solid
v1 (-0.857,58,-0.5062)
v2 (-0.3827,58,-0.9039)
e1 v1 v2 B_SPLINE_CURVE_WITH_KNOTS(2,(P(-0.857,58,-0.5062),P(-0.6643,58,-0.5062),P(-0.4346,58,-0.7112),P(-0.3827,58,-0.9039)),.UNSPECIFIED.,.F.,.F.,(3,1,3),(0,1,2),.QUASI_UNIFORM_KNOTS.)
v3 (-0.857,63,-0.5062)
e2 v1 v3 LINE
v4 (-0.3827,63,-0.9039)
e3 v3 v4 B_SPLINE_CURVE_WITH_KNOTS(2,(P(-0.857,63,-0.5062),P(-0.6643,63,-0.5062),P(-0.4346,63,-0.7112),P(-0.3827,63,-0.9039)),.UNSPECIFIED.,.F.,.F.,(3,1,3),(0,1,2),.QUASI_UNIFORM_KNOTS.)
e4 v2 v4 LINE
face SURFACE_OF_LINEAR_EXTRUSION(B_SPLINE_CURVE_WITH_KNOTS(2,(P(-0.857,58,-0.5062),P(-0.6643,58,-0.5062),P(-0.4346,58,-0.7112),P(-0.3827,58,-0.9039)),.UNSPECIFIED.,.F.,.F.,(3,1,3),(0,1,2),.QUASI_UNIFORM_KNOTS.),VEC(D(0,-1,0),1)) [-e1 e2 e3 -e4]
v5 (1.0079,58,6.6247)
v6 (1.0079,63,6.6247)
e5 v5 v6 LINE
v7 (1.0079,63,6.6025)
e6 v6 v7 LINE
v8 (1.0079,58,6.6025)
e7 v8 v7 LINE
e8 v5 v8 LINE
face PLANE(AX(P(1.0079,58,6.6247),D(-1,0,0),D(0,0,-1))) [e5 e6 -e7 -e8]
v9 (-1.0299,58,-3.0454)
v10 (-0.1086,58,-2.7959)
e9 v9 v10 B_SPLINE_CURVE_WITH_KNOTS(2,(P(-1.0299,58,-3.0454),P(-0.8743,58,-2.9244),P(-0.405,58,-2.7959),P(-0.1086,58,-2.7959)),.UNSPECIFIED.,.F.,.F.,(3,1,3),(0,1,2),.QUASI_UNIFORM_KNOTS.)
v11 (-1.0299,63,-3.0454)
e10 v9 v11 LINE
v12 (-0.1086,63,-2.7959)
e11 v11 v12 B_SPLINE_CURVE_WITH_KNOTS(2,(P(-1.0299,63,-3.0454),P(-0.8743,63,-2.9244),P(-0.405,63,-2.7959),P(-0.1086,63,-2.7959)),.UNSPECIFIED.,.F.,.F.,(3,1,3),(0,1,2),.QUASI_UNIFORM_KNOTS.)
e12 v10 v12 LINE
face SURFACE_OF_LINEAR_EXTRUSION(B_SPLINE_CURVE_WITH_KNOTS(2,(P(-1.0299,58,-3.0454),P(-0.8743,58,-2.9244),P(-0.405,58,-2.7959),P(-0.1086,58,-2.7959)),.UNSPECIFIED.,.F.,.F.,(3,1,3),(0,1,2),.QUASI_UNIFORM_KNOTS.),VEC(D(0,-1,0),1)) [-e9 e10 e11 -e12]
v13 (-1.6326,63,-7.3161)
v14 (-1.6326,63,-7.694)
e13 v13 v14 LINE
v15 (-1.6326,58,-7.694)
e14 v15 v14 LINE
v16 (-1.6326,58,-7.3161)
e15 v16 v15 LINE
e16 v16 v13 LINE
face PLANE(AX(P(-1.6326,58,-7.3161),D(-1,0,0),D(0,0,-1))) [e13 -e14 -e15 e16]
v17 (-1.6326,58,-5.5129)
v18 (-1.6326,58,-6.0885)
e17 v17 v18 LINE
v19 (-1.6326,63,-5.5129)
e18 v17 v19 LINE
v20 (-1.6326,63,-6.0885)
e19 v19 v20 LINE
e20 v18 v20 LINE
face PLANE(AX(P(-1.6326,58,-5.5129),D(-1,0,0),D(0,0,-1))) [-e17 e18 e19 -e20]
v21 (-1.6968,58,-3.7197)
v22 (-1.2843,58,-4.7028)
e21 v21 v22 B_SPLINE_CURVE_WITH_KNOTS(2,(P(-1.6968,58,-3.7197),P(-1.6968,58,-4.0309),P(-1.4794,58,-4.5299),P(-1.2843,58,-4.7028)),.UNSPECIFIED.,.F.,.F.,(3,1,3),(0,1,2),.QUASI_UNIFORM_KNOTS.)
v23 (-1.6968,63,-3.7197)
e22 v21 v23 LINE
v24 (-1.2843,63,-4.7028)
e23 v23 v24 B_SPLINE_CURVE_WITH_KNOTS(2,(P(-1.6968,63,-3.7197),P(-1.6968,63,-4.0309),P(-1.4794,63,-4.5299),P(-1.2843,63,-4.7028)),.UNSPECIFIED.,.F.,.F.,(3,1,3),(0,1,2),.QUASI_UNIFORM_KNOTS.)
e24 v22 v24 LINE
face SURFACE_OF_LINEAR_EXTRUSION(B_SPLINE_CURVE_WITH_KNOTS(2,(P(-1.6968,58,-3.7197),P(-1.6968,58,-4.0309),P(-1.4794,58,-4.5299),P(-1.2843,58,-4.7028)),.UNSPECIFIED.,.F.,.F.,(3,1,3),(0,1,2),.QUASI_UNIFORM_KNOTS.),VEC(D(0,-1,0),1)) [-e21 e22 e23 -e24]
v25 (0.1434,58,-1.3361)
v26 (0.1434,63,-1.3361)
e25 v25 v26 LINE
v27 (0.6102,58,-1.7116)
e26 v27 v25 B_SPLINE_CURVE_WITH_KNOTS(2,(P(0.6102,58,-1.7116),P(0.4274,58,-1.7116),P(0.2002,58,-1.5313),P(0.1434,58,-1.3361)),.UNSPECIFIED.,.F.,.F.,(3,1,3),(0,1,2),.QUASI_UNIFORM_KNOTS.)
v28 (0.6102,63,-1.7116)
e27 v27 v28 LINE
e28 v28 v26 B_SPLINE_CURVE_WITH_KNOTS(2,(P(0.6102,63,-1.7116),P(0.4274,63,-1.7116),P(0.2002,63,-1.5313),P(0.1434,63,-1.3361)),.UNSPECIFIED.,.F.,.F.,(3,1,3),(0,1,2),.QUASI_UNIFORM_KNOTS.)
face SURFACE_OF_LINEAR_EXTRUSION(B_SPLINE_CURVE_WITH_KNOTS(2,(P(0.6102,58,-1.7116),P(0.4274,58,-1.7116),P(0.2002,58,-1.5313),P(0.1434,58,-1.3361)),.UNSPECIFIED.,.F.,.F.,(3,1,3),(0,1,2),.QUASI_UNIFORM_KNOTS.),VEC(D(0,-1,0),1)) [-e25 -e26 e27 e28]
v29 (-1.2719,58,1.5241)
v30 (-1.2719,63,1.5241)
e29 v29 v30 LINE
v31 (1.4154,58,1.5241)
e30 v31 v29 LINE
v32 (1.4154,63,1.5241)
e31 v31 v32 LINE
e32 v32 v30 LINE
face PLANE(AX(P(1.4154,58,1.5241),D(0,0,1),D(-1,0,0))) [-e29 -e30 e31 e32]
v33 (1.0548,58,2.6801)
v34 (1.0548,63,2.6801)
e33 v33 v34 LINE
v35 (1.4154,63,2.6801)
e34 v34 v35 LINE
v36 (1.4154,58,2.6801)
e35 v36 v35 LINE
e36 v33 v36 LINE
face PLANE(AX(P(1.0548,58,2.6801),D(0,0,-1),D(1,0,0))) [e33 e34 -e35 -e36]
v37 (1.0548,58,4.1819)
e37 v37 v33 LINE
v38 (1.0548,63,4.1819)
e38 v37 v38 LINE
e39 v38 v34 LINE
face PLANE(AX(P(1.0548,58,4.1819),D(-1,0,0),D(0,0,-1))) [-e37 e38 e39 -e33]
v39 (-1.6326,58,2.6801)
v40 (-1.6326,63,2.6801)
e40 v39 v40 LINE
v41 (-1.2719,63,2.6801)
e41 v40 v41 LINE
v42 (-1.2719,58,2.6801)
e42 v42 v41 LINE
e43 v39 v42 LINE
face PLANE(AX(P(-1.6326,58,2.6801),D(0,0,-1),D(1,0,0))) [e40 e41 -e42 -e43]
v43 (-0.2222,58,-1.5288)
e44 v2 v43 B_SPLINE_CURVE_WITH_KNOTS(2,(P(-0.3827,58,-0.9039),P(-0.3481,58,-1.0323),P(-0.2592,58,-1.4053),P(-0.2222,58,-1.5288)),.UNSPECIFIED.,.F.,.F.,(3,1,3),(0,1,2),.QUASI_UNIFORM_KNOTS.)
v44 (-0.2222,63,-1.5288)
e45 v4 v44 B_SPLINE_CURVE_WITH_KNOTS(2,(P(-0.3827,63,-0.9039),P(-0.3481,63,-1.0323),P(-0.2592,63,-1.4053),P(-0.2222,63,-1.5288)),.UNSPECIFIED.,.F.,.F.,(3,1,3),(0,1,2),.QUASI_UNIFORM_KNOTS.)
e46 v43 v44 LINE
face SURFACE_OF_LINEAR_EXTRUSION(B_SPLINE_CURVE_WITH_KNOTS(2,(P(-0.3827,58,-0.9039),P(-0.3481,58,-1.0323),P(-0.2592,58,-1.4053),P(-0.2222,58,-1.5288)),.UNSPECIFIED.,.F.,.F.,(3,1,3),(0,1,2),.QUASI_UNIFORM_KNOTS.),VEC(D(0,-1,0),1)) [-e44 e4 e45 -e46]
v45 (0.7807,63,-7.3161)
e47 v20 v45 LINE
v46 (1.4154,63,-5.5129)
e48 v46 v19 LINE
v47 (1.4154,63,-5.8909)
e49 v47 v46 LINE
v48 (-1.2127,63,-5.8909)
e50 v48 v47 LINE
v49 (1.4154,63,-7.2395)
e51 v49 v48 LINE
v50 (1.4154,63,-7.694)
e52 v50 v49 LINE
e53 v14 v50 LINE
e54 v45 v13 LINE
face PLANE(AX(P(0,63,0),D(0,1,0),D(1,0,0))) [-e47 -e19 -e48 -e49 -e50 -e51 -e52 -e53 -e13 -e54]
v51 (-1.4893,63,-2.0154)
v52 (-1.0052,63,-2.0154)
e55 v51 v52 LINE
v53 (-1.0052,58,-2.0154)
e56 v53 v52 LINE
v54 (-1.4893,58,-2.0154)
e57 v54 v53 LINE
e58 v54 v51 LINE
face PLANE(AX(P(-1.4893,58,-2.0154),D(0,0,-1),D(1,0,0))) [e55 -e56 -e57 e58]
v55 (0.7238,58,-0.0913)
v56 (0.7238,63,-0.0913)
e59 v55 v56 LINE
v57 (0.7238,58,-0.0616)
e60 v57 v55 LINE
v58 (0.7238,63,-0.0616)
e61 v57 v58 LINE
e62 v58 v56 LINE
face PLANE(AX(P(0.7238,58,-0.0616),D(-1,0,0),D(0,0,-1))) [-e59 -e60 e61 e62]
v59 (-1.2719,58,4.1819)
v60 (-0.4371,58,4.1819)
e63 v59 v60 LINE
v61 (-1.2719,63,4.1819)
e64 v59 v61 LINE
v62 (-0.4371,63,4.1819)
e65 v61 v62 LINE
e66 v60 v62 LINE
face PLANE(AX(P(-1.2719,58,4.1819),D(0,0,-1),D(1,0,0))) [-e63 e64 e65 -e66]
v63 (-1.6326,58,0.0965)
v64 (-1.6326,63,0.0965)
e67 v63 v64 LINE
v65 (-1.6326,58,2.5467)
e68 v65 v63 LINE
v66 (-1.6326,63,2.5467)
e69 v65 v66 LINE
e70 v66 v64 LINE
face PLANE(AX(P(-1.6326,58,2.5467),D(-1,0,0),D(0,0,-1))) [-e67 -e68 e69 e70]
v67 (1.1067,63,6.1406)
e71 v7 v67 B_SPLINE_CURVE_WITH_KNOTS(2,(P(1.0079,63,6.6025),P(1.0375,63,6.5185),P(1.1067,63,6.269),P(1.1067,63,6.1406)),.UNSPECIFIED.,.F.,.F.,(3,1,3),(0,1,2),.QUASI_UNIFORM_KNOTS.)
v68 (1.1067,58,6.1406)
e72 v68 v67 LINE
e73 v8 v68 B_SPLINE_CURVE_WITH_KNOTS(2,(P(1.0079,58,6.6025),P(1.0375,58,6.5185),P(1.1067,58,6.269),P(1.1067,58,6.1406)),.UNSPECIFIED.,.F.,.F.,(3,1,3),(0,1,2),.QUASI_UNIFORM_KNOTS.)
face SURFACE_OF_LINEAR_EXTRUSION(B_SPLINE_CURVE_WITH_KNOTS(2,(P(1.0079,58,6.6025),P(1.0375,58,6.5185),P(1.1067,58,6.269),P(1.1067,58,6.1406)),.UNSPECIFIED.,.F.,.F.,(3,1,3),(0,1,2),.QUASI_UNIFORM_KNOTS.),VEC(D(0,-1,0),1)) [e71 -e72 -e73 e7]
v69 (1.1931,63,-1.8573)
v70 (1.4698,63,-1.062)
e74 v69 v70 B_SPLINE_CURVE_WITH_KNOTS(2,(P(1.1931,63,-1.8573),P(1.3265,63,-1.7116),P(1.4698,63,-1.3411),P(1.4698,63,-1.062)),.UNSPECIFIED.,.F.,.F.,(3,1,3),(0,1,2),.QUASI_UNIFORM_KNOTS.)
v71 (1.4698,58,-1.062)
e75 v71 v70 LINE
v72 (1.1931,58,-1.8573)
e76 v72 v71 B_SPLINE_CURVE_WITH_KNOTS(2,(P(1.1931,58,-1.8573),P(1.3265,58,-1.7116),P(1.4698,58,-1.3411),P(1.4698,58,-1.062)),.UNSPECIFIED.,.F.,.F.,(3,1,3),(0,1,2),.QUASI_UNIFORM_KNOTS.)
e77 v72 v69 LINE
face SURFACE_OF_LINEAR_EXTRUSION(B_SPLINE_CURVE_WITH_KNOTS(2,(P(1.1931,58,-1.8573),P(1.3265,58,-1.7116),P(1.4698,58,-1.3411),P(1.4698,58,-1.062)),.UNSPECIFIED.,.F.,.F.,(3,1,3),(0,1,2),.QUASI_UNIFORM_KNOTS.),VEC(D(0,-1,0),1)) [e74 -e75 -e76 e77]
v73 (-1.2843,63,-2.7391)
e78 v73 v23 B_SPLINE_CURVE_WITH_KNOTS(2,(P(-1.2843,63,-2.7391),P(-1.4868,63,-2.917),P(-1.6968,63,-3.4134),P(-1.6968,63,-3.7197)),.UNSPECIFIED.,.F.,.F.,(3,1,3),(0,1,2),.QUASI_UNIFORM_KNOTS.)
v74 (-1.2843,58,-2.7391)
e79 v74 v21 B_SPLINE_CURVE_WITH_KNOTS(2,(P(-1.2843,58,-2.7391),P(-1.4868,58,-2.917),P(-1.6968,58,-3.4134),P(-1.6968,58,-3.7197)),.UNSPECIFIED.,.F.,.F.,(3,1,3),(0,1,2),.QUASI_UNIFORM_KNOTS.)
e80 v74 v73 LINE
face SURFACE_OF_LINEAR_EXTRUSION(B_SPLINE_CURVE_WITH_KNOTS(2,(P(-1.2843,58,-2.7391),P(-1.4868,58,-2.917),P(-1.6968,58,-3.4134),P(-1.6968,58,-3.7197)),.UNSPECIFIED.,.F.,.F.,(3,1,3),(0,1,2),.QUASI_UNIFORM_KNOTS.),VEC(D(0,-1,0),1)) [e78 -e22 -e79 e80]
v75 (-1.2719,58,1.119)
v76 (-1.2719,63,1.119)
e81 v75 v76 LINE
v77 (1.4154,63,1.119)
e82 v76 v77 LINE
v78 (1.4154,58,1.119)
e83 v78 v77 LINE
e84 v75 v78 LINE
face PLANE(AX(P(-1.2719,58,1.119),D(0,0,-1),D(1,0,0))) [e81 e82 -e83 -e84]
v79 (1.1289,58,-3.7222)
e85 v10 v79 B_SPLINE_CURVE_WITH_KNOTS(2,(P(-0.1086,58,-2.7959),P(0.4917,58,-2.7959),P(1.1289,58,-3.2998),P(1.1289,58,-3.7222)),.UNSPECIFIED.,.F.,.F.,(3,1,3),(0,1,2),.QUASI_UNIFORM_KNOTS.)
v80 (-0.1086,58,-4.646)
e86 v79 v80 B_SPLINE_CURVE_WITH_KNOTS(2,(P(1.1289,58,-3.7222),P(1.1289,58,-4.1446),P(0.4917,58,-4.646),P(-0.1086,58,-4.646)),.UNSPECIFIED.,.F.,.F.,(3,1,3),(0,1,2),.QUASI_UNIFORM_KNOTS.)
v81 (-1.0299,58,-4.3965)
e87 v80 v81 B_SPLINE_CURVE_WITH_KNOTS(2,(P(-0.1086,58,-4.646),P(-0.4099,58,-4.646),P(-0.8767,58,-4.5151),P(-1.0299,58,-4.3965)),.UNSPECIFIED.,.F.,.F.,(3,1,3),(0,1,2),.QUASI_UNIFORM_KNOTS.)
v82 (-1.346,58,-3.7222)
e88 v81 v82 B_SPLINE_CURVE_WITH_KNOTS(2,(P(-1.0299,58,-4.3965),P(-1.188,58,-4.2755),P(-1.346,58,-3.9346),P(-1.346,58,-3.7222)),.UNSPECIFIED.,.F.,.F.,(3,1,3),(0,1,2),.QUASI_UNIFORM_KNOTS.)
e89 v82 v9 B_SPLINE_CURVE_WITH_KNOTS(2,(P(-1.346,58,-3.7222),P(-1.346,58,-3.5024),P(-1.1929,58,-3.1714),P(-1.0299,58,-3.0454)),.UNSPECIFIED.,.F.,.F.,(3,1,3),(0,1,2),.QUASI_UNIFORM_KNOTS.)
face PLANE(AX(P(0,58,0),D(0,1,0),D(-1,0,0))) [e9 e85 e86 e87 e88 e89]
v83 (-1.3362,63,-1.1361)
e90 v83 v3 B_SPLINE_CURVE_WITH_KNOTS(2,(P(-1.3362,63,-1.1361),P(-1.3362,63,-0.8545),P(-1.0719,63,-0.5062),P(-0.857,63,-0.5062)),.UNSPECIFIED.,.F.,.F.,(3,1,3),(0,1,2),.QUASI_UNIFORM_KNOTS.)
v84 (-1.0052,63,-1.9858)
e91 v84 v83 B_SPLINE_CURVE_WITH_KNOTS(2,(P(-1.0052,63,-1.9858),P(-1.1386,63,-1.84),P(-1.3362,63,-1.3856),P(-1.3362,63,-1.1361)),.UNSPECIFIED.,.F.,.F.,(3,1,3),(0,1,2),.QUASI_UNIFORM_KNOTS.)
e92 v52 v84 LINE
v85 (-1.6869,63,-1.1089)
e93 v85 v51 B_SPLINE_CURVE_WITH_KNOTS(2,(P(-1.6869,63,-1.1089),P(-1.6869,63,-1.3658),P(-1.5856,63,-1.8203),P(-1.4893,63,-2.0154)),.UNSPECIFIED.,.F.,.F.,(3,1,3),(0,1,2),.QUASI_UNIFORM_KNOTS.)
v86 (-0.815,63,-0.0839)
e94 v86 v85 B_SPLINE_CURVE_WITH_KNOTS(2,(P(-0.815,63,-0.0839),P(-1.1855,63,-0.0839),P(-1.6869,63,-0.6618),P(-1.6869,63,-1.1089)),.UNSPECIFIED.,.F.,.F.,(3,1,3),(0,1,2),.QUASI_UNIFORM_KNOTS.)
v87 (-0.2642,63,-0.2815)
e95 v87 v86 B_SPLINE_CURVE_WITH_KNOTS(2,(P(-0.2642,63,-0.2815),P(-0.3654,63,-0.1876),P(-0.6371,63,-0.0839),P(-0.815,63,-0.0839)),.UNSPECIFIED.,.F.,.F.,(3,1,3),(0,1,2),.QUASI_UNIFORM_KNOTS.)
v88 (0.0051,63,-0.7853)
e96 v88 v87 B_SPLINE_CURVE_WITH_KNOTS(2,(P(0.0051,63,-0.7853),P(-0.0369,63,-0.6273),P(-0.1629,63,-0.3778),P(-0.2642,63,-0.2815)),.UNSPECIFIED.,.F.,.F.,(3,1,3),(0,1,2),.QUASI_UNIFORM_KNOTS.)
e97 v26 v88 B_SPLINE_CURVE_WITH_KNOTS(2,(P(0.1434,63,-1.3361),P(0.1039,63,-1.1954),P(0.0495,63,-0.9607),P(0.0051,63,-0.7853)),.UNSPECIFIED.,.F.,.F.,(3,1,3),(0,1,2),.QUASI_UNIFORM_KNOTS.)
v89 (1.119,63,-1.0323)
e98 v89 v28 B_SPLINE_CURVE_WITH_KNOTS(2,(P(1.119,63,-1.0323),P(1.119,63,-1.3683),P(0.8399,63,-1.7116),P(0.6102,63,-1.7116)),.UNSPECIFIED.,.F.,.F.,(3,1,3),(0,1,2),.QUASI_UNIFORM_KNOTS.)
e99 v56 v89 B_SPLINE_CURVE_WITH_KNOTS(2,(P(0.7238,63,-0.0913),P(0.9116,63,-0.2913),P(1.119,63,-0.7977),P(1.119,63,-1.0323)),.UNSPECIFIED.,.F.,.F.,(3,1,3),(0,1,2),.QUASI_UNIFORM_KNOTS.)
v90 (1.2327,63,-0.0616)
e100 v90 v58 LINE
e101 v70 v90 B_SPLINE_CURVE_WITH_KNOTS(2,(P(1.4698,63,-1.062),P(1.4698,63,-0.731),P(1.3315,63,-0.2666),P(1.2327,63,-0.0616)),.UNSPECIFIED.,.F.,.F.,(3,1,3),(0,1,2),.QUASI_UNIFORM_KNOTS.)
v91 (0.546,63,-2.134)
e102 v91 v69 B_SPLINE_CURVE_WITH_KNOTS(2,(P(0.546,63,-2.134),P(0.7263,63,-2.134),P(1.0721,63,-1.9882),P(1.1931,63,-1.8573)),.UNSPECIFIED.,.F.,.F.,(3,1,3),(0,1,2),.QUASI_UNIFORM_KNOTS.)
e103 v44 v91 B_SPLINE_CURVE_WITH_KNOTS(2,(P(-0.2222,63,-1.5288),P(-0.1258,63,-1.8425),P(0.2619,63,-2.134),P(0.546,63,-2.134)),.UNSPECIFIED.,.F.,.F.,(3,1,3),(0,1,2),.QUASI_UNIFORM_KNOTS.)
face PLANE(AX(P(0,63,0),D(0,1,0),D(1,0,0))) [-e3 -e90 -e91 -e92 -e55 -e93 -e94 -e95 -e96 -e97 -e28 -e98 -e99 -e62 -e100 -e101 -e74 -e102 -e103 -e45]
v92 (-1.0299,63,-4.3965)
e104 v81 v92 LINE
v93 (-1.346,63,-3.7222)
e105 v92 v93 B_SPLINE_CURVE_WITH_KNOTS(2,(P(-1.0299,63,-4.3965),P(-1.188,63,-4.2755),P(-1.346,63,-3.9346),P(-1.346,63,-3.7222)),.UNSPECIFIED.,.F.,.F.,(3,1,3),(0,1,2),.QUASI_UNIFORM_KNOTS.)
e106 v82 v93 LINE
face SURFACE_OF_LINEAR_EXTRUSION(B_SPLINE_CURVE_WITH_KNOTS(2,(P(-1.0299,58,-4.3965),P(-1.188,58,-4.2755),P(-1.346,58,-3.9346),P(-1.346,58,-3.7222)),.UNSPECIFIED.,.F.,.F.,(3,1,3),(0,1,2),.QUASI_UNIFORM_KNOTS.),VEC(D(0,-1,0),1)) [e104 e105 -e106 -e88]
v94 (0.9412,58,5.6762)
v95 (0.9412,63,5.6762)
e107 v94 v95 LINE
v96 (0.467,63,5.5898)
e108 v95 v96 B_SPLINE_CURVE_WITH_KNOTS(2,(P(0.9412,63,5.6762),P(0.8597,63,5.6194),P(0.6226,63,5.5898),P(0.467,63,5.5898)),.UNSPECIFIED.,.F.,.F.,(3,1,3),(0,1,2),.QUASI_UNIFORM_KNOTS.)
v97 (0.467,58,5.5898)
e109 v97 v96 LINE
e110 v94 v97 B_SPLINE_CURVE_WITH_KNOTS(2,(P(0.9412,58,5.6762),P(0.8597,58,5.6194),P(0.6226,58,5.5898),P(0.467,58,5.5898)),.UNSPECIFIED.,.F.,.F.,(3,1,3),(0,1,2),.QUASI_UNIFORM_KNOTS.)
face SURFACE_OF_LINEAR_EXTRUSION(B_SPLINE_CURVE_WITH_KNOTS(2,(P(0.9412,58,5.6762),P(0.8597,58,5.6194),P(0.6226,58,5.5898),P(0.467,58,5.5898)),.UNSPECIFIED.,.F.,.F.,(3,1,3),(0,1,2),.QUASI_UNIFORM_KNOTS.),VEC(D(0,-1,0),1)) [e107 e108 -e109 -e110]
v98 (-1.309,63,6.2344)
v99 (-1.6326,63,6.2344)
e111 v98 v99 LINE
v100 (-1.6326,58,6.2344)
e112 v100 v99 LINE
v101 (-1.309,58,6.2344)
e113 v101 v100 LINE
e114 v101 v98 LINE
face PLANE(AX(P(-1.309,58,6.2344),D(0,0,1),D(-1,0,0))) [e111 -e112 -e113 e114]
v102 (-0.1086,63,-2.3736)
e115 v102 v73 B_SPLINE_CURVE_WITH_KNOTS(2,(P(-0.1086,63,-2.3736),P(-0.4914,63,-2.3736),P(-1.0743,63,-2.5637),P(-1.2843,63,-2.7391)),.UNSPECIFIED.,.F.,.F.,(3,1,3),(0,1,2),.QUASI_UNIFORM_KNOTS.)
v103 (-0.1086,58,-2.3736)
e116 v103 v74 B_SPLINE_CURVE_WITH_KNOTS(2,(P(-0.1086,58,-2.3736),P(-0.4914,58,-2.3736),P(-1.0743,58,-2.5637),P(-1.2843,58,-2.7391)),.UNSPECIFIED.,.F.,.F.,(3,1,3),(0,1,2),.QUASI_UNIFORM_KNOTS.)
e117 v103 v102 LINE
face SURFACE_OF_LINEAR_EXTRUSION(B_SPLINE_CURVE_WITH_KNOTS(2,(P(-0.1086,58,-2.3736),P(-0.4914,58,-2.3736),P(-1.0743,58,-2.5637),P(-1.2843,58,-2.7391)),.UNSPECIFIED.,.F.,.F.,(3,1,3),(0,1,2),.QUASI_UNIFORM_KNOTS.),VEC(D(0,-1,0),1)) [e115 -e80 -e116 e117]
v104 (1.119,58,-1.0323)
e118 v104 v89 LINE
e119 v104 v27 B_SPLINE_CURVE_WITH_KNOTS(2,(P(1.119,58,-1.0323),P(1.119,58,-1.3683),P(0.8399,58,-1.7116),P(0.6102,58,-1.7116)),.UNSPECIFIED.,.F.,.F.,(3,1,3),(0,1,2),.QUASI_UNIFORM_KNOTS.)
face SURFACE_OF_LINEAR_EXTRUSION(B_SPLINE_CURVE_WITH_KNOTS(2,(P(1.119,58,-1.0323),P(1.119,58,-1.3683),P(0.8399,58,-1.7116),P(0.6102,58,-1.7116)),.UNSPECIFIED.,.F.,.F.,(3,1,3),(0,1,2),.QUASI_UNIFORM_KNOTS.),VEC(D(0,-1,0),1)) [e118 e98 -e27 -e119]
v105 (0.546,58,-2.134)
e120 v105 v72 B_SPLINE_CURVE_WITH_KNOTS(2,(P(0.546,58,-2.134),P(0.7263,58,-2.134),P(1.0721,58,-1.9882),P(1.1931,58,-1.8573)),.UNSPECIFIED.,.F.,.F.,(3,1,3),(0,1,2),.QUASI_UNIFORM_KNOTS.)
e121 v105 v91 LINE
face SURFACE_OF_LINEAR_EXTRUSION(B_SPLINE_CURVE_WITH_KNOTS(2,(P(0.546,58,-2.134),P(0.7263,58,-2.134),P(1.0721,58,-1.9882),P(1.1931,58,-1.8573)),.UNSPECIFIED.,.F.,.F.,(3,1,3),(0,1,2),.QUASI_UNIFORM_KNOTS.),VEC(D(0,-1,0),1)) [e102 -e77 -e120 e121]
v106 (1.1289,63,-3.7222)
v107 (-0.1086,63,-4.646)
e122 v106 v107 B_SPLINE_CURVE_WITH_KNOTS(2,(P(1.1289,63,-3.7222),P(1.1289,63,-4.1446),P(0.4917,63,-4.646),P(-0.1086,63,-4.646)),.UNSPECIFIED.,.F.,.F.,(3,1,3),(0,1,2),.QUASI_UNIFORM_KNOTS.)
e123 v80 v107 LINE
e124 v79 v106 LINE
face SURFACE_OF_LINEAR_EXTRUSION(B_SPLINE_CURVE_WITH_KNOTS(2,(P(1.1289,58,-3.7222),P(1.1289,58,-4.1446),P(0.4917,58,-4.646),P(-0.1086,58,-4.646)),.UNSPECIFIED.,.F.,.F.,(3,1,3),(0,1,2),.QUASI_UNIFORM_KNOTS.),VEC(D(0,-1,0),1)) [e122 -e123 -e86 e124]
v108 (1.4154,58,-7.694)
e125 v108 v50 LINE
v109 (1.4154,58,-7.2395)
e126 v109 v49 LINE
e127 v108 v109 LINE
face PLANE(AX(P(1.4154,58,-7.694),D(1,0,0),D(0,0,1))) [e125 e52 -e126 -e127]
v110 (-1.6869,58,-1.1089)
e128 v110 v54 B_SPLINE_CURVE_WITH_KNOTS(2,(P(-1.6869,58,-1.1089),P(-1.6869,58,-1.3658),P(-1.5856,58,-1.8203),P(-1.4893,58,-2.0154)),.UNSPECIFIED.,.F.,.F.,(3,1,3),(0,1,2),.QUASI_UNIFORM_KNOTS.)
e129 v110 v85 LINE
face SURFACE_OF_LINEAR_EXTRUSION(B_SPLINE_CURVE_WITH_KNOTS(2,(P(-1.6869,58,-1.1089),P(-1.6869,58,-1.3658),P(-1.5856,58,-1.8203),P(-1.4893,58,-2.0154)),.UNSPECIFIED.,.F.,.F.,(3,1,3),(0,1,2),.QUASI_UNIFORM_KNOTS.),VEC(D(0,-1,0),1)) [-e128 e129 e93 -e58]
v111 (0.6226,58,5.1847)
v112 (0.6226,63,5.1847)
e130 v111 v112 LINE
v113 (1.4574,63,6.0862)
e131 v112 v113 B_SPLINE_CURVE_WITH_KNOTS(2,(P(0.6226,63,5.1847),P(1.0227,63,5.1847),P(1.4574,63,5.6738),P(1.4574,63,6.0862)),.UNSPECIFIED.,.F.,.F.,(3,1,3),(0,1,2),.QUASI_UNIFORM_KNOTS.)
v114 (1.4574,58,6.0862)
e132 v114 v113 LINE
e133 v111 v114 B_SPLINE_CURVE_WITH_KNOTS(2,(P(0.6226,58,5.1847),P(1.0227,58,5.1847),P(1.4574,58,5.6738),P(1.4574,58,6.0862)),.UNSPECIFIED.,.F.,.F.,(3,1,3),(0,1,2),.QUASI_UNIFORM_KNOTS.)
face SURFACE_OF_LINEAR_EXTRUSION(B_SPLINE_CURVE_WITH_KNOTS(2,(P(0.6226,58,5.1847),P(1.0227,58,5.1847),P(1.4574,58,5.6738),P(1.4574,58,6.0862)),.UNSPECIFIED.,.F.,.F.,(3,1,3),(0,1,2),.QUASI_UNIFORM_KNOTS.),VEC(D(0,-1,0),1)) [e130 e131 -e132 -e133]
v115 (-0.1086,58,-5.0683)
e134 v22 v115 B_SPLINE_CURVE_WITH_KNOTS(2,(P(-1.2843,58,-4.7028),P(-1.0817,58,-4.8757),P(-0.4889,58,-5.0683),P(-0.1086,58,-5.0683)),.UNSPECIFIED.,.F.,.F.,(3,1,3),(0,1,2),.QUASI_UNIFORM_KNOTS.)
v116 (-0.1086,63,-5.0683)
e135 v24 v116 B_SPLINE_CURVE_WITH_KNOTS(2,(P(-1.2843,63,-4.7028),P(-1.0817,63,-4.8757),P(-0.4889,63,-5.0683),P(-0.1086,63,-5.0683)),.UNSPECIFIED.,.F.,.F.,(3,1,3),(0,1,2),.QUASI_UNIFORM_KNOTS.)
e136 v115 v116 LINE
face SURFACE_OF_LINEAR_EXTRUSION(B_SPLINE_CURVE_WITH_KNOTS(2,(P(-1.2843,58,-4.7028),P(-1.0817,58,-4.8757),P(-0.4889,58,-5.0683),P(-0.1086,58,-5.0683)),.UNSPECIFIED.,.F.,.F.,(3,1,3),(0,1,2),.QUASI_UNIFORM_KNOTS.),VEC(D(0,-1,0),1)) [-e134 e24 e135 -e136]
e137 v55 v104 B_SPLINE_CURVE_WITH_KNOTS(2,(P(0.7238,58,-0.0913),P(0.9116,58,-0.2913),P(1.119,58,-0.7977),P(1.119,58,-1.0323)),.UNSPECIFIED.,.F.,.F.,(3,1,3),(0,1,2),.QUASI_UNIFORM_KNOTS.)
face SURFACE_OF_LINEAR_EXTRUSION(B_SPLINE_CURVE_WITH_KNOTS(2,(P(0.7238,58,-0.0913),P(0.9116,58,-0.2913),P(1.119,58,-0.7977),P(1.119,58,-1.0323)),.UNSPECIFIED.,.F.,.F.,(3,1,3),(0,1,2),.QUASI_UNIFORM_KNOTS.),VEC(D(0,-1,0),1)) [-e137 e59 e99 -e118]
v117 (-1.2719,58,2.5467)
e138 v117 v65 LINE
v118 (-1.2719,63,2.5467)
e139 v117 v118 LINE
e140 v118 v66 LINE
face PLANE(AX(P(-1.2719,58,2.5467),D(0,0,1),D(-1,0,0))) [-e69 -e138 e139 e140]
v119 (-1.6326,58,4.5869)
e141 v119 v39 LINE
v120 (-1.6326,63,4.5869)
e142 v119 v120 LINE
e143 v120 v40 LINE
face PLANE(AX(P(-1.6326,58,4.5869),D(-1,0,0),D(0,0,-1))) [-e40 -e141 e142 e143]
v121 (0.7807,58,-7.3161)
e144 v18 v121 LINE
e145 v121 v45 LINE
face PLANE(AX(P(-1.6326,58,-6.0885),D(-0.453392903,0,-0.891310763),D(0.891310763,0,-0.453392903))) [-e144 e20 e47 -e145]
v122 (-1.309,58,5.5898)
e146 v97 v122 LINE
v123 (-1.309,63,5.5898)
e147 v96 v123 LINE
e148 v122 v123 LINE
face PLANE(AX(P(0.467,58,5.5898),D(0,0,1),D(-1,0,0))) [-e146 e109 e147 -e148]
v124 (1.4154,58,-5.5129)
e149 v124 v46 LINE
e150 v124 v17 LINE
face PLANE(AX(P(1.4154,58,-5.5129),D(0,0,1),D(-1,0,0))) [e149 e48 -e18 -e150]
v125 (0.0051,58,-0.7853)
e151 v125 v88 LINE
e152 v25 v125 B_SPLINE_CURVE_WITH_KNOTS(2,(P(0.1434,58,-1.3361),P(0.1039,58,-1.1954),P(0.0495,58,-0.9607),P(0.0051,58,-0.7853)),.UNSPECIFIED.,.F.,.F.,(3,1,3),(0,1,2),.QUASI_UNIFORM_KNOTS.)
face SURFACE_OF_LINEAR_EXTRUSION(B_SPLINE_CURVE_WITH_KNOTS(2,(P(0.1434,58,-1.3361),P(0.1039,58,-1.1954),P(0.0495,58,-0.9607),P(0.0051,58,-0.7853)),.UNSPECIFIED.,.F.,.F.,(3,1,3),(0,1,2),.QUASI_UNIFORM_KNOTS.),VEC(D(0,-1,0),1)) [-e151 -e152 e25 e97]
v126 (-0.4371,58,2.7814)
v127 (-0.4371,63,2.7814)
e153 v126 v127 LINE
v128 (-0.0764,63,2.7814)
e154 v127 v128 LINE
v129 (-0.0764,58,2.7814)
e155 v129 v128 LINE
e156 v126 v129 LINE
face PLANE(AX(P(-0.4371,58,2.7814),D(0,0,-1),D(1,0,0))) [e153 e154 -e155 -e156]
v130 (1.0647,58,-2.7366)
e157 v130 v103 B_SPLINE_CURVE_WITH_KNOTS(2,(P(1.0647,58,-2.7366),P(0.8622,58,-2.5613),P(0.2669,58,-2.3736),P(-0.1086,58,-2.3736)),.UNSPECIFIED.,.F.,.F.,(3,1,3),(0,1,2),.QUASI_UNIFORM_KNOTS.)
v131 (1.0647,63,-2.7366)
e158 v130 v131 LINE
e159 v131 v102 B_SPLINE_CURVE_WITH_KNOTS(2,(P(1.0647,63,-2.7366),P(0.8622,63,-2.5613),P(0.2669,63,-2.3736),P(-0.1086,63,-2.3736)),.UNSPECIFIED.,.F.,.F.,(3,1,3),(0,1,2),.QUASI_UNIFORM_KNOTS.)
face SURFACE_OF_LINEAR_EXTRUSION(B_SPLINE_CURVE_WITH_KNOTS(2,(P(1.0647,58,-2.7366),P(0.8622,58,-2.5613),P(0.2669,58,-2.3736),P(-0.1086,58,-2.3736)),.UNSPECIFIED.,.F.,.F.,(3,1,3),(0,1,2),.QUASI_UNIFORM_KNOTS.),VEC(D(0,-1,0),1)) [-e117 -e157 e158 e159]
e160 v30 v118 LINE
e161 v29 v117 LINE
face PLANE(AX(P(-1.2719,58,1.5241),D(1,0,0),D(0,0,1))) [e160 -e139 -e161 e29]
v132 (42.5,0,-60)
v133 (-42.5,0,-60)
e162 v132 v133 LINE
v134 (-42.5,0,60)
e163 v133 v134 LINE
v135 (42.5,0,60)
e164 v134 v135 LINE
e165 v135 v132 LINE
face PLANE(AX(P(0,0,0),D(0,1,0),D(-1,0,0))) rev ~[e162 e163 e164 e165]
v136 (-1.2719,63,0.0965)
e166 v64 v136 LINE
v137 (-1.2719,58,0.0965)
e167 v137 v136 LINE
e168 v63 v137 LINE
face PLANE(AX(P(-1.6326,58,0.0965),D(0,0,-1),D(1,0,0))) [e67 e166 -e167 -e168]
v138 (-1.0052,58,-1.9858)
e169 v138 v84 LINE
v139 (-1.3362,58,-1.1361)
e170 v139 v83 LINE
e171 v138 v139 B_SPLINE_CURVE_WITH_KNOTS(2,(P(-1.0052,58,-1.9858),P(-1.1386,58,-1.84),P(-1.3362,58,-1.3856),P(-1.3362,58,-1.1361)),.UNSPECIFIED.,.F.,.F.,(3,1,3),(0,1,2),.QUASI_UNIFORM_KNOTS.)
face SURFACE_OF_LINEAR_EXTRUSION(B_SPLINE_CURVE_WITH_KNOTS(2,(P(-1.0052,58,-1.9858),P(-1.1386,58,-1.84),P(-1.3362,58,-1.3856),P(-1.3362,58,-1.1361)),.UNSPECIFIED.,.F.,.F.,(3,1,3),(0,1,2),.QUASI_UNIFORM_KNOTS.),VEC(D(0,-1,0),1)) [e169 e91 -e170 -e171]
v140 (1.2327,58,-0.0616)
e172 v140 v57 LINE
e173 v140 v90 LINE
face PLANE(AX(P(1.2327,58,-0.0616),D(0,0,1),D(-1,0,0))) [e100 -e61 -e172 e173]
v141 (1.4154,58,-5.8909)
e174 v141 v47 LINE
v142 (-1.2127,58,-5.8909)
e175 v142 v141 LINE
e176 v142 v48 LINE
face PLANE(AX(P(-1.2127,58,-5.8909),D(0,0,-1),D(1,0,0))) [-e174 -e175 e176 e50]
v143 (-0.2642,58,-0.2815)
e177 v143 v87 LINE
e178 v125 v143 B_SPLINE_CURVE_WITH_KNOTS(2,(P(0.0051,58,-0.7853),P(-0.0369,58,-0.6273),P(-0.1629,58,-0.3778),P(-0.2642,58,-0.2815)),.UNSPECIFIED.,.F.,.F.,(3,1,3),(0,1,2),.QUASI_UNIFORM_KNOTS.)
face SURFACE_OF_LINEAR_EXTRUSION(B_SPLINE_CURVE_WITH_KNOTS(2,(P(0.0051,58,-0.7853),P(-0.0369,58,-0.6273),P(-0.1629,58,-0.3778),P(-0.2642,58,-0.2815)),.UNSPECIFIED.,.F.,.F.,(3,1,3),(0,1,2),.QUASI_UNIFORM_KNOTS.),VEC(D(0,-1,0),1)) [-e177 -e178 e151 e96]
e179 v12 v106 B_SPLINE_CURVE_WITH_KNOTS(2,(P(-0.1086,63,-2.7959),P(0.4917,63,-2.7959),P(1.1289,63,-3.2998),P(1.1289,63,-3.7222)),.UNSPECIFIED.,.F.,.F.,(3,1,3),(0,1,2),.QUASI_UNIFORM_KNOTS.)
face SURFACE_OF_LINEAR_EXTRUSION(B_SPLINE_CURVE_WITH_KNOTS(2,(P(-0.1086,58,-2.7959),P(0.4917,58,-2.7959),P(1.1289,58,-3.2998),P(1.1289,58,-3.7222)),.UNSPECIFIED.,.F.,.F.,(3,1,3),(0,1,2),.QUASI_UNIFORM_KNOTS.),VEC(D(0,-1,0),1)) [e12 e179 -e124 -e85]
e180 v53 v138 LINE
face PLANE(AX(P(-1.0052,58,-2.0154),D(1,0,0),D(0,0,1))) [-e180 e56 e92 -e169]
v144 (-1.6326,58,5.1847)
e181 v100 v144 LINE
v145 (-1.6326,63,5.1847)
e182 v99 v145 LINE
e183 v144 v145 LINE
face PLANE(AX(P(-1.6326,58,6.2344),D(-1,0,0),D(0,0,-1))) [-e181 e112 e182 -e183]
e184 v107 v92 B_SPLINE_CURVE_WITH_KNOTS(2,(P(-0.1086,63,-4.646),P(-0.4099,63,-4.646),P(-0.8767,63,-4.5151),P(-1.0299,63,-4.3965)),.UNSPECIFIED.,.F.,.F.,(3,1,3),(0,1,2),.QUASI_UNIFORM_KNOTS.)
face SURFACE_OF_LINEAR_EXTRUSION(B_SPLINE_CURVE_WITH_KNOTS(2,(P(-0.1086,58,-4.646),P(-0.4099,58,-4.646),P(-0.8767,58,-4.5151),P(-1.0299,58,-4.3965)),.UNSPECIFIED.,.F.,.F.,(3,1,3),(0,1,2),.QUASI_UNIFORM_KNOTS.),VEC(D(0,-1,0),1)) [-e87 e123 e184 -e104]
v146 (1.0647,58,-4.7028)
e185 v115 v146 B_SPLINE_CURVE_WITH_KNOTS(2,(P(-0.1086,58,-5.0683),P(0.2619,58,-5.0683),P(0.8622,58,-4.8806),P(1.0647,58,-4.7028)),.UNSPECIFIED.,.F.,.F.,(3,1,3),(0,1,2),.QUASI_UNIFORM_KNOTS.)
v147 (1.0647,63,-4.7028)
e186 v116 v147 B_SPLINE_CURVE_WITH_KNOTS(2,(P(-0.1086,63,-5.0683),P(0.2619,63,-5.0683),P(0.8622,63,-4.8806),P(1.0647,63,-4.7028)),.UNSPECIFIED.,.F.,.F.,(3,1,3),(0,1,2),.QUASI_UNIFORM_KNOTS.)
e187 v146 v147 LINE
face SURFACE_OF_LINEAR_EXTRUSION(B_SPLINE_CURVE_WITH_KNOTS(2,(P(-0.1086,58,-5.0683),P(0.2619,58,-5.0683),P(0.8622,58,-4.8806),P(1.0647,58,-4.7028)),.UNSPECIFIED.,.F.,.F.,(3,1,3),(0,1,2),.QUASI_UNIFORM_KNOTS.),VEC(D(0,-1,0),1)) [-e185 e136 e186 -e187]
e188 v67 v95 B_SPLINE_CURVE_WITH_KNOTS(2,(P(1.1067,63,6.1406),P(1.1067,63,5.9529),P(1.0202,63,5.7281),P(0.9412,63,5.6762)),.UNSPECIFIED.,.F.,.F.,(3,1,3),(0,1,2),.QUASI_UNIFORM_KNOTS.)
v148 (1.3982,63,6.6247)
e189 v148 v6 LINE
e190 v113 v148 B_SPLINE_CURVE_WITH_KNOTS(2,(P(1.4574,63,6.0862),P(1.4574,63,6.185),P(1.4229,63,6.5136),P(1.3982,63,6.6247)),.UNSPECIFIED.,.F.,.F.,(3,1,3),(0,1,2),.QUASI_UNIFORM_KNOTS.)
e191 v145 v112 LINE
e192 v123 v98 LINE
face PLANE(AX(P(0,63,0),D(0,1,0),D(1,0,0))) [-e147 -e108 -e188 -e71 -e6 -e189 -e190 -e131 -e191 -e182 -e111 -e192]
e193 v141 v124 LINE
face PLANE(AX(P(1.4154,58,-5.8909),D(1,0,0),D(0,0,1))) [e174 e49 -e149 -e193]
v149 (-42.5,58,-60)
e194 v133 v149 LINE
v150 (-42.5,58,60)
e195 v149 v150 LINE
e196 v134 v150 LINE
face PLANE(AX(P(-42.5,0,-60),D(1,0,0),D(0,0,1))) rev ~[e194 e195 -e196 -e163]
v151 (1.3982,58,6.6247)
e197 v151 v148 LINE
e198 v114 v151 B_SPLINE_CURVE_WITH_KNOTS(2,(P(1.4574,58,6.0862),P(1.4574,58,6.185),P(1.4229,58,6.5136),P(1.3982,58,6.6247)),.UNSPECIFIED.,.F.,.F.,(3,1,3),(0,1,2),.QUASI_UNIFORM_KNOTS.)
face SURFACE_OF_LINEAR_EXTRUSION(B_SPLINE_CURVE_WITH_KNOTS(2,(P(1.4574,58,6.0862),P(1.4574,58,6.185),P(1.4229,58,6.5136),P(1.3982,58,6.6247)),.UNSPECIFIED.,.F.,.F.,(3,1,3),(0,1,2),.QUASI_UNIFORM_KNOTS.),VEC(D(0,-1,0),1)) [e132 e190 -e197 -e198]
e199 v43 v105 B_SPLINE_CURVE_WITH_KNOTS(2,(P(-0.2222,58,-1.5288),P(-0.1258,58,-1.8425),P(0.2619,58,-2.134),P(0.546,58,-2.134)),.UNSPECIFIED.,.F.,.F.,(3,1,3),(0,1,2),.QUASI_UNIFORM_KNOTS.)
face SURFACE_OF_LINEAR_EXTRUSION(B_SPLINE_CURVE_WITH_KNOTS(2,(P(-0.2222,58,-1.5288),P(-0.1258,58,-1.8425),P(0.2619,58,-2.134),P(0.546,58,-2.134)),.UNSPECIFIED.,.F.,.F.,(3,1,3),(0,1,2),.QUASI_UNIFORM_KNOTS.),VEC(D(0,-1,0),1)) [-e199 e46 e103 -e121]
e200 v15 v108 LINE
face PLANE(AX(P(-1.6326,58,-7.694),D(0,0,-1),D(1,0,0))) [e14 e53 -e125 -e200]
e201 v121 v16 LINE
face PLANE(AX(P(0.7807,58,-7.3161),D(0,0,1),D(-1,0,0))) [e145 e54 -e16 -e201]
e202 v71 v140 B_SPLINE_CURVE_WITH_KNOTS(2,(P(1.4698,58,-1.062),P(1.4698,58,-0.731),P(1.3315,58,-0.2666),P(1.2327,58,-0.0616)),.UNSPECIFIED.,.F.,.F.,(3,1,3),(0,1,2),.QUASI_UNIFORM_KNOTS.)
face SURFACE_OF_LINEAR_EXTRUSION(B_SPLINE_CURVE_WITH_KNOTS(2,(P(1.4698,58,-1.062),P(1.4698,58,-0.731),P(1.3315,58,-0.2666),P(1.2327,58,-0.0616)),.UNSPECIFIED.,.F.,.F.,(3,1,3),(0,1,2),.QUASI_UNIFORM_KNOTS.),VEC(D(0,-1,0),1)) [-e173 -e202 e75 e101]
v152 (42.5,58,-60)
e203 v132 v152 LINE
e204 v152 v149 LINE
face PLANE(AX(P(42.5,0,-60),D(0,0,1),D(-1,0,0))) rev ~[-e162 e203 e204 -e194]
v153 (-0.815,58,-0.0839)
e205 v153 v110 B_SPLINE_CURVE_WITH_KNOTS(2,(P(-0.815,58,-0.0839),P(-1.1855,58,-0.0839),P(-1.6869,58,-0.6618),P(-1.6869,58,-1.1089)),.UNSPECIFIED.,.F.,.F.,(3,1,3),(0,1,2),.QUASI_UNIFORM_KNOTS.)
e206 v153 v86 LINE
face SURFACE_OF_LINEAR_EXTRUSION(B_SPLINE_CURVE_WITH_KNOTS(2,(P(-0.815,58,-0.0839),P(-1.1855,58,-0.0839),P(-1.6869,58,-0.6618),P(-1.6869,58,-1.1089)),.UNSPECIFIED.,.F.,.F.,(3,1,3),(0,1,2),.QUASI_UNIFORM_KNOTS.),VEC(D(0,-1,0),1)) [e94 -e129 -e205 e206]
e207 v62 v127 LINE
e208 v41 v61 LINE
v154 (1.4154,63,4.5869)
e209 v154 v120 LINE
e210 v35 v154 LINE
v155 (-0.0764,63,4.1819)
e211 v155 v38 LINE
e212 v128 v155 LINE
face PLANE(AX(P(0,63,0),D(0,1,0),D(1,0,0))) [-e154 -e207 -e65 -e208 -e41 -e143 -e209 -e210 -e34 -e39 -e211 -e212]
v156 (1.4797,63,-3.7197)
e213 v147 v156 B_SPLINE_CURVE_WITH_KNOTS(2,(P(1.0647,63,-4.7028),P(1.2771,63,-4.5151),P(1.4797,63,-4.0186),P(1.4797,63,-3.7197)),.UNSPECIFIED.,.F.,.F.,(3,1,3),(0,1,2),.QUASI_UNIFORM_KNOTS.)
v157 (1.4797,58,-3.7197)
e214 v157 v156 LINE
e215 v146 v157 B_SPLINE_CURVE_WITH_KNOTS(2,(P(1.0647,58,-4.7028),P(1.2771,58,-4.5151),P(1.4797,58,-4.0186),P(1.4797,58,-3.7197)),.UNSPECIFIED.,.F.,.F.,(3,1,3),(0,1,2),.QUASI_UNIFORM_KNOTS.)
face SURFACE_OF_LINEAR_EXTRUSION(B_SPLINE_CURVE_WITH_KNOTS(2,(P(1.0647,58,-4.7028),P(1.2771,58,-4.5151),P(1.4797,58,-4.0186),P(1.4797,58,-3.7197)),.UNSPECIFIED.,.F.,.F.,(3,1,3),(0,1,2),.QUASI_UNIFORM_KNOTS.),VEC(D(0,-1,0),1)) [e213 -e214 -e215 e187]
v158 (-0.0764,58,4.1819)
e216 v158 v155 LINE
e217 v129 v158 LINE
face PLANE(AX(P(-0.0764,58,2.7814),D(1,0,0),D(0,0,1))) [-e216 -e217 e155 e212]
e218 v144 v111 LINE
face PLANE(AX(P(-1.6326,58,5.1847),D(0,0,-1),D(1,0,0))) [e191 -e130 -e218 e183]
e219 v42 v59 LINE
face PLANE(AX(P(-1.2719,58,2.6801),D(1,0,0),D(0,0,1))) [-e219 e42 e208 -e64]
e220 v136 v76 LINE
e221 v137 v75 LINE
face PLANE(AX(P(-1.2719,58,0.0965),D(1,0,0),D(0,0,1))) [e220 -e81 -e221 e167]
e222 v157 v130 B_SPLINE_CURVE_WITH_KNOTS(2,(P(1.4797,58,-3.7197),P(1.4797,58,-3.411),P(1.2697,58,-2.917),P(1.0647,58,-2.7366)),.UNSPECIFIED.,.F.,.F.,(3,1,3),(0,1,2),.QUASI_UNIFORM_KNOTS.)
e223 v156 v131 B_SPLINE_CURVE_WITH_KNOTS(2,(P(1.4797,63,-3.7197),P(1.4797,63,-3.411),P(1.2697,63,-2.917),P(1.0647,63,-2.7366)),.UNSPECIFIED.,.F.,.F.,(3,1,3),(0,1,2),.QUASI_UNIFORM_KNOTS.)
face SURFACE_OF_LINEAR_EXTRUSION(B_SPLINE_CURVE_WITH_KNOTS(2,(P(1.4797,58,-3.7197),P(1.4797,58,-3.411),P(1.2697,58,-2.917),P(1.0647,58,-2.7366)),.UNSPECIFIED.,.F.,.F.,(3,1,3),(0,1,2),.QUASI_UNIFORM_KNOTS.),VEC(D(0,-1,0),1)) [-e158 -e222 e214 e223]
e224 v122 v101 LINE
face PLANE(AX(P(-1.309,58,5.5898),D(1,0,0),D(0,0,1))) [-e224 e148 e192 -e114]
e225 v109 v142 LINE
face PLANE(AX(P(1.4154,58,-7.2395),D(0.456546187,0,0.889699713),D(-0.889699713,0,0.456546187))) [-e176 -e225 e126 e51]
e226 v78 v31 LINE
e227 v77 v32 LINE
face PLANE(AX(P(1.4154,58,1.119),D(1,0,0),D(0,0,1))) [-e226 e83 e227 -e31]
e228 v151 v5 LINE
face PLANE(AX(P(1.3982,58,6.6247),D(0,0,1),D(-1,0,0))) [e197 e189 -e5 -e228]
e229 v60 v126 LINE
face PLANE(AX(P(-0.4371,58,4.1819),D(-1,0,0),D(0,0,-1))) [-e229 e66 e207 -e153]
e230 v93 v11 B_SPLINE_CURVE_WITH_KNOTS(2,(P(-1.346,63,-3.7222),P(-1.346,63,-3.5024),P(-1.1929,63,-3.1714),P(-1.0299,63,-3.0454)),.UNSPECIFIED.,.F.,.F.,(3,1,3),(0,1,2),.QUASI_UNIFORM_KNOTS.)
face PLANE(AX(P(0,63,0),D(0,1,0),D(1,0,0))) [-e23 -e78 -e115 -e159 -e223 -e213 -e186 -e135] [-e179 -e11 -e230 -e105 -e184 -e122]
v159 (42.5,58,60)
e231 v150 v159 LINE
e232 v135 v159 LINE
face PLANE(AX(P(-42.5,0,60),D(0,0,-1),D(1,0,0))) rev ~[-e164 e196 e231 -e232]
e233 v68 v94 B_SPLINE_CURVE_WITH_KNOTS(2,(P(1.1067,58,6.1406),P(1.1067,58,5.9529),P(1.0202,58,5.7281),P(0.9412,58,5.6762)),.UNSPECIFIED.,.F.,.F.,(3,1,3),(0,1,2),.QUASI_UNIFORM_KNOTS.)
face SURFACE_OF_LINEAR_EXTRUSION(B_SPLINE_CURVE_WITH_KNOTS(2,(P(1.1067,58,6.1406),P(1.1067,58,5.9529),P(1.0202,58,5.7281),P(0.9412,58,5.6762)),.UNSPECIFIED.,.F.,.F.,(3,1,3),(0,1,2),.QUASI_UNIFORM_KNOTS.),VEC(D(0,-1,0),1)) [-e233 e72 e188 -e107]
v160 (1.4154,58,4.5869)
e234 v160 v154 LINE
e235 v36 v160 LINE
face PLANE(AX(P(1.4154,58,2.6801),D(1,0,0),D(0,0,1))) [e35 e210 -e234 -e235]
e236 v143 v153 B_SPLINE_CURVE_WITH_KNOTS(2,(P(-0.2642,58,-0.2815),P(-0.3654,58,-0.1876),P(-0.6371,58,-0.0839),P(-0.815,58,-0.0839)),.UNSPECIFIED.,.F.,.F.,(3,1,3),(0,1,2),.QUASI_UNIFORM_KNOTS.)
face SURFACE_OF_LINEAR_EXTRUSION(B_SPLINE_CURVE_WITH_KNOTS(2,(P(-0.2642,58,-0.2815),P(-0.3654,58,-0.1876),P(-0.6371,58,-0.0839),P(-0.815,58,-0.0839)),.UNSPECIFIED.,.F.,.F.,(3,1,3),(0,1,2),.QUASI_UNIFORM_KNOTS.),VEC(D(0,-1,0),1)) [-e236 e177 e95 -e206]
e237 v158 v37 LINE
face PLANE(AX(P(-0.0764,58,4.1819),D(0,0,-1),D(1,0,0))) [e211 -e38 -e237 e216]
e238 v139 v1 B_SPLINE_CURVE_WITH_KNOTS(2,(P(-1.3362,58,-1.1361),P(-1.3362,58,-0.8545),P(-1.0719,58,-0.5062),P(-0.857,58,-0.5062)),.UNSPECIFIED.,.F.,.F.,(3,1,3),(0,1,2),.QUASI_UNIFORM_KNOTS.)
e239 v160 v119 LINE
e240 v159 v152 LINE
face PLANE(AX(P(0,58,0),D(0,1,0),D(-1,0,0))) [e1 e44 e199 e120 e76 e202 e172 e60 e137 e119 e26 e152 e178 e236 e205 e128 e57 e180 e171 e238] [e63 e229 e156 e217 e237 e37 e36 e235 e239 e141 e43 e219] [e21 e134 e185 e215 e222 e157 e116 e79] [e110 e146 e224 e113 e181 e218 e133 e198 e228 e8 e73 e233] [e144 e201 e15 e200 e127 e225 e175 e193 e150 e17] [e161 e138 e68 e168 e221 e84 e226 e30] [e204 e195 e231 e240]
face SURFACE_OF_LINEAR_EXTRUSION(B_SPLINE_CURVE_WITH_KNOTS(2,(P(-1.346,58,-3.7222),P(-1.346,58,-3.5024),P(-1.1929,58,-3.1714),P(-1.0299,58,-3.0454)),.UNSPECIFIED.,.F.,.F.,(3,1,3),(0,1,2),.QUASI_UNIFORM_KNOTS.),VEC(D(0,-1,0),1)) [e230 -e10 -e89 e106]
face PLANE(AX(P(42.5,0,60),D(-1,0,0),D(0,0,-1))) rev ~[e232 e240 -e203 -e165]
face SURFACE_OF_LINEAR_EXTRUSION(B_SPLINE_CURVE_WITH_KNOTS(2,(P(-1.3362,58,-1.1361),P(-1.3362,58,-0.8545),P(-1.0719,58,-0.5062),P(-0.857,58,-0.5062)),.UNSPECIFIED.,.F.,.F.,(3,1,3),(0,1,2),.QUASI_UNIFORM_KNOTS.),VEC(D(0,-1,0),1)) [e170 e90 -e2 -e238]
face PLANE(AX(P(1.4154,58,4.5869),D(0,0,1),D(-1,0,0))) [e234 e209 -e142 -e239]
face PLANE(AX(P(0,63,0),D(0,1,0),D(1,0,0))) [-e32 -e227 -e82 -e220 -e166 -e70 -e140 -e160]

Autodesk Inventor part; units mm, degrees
ref_plane "YZ Plane" through (0, 0, 0) normal (1, 0, 0) x (0, 1, 0)
ref_plane "XZ Plane" through (0, 0, 0) normal (0, 1, 0) x (-1, 0, 0)
ref_plane "XY Plane" through (0, 0, 0) normal (0, 0, 1) x (1, 0, 0)
sketch "Boceto1" plane through (0, 0, 0) normal (0, 1, 0) x (-1, 0, 0)
  line L0 (42.5, 60) -> (-42.5, 60)
  line L1 (-42.5, 60) -> (-42.5, -60)
  line L2 (-42.5, -60) -> (42.5, -60)
  line L3 (42.5, -60) -> (42.5, 60)
  line L4 (42.5, 60) -> (-42.5, -60) construction
  line L5 (-42.5, 60) -> (42.5, -60) construction
  point P0 (0, 0)
  dimension "d0" = 85
  dimension "d1" = 120
extrude "Extrusión1" add sketch "Boceto1" along normal blind 58
sketch "Boceto2" plane through (0, 58, 0) normal (0, 1, 0) x (1, 0, 0)
  line L0 (-1.6968, -6.642) -> (-1.6968, 31.3478) construction
  line L1 (-1.6968, 31.3478) -> (74.717, 31.3478) construction
  line L2 (74.717, 31.3478) -> (74.717, -6.642) construction
  line L3 (74.717, -6.642) -> (-1.6968, -6.642) construction
  spline S0 degree 2 poles (0.6226, -5.1847) (1.0227, -5.1847) (1.4574, -5.6738) (1.4574, -6.0862) knots 0 0 0 1 2 2 2
  spline S1 degree 2 poles (1.4574, -6.0862) (1.4574, -6.185) (1.4229, -6.5136) (1.3982, -6.6247) knots 0 0 0 1 2 2 2
  line L4 (1.3982, -6.6247) -> (1.0079, -6.6247)
  line L5 (1.0079, -6.6247) -> (1.0079, -6.6025)
  spline S2 degree 2 poles (1.0079, -6.6025) (1.0375, -6.5185) (1.1067, -6.269) (1.1067, -6.1406) knots 0 0 0 1 2 2 2
  spline S3 degree 2 poles (1.1067, -6.1406) (1.1067, -5.9529) (1.0202, -5.7281) (0.9412, -5.6762) knots 0 0 0 1 2 2 2
  spline S4 degree 2 poles (0.9412, -5.6762) (0.8597, -5.6194) (0.6226, -5.5898) (0.467, -5.5898) knots 0 0 0 1 2 2 2
  line L6 (0.467, -5.5898) -> (-1.309, -5.5898)
  line L7 (-1.309, -5.5898) -> (-1.309, -6.2344)
  line L8 (-1.309, -6.2344) -> (-1.6326, -6.2344)
  line L9 (-1.6326, -6.2344) -> (-1.6326, -5.1847)
  line L10 (-1.6326, -5.1847) -> (0.6226, -5.1847)
  line L11 (1.4154, -4.5869) -> (-1.6326, -4.5869)
  line L12 (-1.6326, -4.5869) -> (-1.6326, -2.6801)
  line L13 (-1.6326, -2.6801) -> (-1.2719, -2.6801)
  line L14 (-1.2719, -2.6801) -> (-1.2719, -4.1819)
  line L15 (-1.2719, -4.1819) -> (-0.4371, -4.1819)
  line L16 (-0.4371, -4.1819) -> (-0.4371, -2.7814)
  line L17 (-0.4371, -2.7814) -> (-0.0764, -2.7814)
  line L18 (-0.0764, -2.7814) -> (-0.0764, -4.1819)
  line L19 (-0.0764, -4.1819) -> (1.0548, -4.1819)
  line L20 (1.0548, -4.1819) -> (1.0548, -2.6801)
  line L21 (1.0548, -2.6801) -> (1.4154, -2.6801)
  line L22 (1.4154, -2.6801) -> (1.4154, -4.5869)
  line L23 (1.4154, -1.5241) -> (-1.2719, -1.5241)
  line L24 (-1.2719, -1.5241) -> (-1.2719, -2.5467)
  line L25 (-1.2719, -2.5467) -> (-1.6326, -2.5467)
  line L26 (-1.6326, -2.5467) -> (-1.6326, -0.0965)
  line L27 (-1.6326, -0.0965) -> (-1.2719, -0.0965)
  line L28 (-1.2719, -0.0965) -> (-1.2719, -1.119)
  line L29 (-1.2719, -1.119) -> (1.4154, -1.119)
  line L30 (1.4154, -1.119) -> (1.4154, -1.5241)
  spline S5 degree 2 poles (1.4698, 1.062) (1.4698, 0.731) (1.3315, 0.2666) (1.2327, 0.0616) knots 0 0 0 1 2 2 2
  line L31 (1.2327, 0.0616) -> (0.7238, 0.0616)
  line L32 (0.7238, 0.0616) -> (0.7238, 0.0913)
  spline S6 degree 2 poles (0.7238, 0.0913) (0.9116, 0.2913) (1.119, 0.7977) (1.119, 1.0323) knots 0 0 0 1 2 2 2
  spline S7 degree 2 poles (1.119, 1.0323) (1.119, 1.3683) (0.8399, 1.7116) (0.6102, 1.7116) knots 0 0 0 1 2 2 2
  spline S8 degree 2 poles (0.6102, 1.7116) (0.4274, 1.7116) (0.2002, 1.5313) (0.1434, 1.3361) knots 0 0 0 1 2 2 2
  spline S9 degree 2 poles (0.1434, 1.3361) (0.1039, 1.1954) (0.0495, 0.9607) (0.0051, 0.7853) knots 0 0 0 1 2 2 2
  spline S10 degree 2 poles (0.0051, 0.7853) (-0.0369, 0.6273) (-0.1629, 0.3778) (-0.2642, 0.2815) knots 0 0 0 1 2 2 2
  spline S11 degree 2 poles (-0.2642, 0.2815) (-0.3654, 0.1876) (-0.6371, 0.0839) (-0.815, 0.0839) knots 0 0 0 1 2 2 2
  spline S12 degree 2 poles (-0.815, 0.0839) (-1.1855, 0.0839) (-1.6869, 0.6618) (-1.6869, 1.1089) knots 0 0 0 1 2 2 2
  spline S13 degree 2 poles (-1.6869, 1.1089) (-1.6869, 1.3658) (-1.5856, 1.8203) (-1.4893, 2.0154) knots 0 0 0 1 2 2 2
  line L33 (-1.4893, 2.0154) -> (-1.0052, 2.0154)
  line L34 (-1.0052, 2.0154) -> (-1.0052, 1.9858)
  spline S14 degree 2 poles (-1.0052, 1.9858) (-1.1386, 1.84) (-1.3362, 1.3856) (-1.3362, 1.1361) knots 0 0 0 1 2 2 2
  spline S15 degree 2 poles (-1.3362, 1.1361) (-1.3362, 0.8545) (-1.0719, 0.5062) (-0.857, 0.5062) knots 0 0 0 1 2 2 2
  spline S16 degree 2 poles (-0.857, 0.5062) (-0.6643, 0.5062) (-0.4346, 0.7112) (-0.3827, 0.9039) knots 0 0 0 1 2 2 2
  spline S17 degree 2 poles (-0.3827, 0.9039) (-0.3481, 1.0323) (-0.2592, 1.4053) (-0.2222, 1.5288) knots 0 0 0 1 2 2 2
  spline S18 degree 2 poles (-0.2222, 1.5288) (-0.1258, 1.8425) (0.2619, 2.134) (0.546, 2.134) knots 0 0 0 1 2 2 2
  spline S19 degree 2 poles (0.546, 2.134) (0.7263, 2.134) (1.0721, 1.9882) (1.1931, 1.8573) knots 0 0 0 1 2 2 2
  spline S20 degree 2 poles (1.1931, 1.8573) (1.3265, 1.7116) (1.4698, 1.3411) (1.4698, 1.062) knots 0 0 0 1 2 2 2
  spline S21 degree 2 poles (-1.2843, 4.7028) (-1.0817, 4.8757) (-0.4889, 5.0683) (-0.1086, 5.0683) knots 0 0 0 1 2 2 2
  spline S22 degree 2 poles (-0.1086, 5.0683) (0.2619, 5.0683) (0.8622, 4.8806) (1.0647, 4.7028) knots 0 0 0 1 2 2 2
  spline S23 degree 2 poles (1.0647, 4.7028) (1.2771, 4.5151) (1.4797, 4.0186) (1.4797, 3.7197) knots 0 0 0 1 2 2 2
  spline S24 degree 2 poles (1.4797, 3.7197) (1.4797, 3.411) (1.2697, 2.917) (1.0647, 2.7366) knots 0 0 0 1 2 2 2
  spline S25 degree 2 poles (1.0647, 2.7366) (0.8622, 2.5613) (0.2669, 2.3736) (-0.1086, 2.3736) knots 0 0 0 1 2 2 2
  spline S26 degree 2 poles (-0.1086, 2.3736) (-0.4914, 2.3736) (-1.0743, 2.5637) (-1.2843, 2.7391) knots 0 0 0 1 2 2 2
  spline S27 degree 2 poles (-1.2843, 2.7391) (-1.4868, 2.917) (-1.6968, 3.4134) (-1.6968, 3.7197) knots 0 0 0 1 2 2 2
  spline S28 degree 2 poles (-1.6968, 3.7197) (-1.6968, 4.0309) (-1.4794, 4.5299) (-1.2843, 4.7028) knots 0 0 0 1 2 2 2
  spline S29 degree 2 poles (-0.1086, 4.646) (-0.4099, 4.646) (-0.8767, 4.5151) (-1.0299, 4.3965) knots 0 0 0 1 2 2 2
  spline S30 degree 2 poles (-1.0299, 4.3965) (-1.188, 4.2755) (-1.346, 3.9346) (-1.346, 3.7222) knots 0 0 0 1 2 2 2
  spline S31 degree 2 poles (-1.346, 3.7222) (-1.346, 3.5024) (-1.1929, 3.1714) (-1.0299, 3.0454) knots 0 0 0 1 2 2 2
  spline S32 degree 2 poles (-1.0299, 3.0454) (-0.8743, 2.9244) (-0.405, 2.7959) (-0.1086, 2.7959) knots 0 0 0 1 2 2 2
  spline S33 degree 2 poles (-0.1086, 2.7959) (0.4917, 2.7959) (1.1289, 3.2998) (1.1289, 3.7222) knots 0 0 0 1 2 2 2
  spline S34 degree 2 poles (1.1289, 3.7222) (1.1289, 4.1446) (0.4917, 4.646) (-0.1086, 4.646) knots 0 0 0 1 2 2 2
  line L35 (1.4154, 7.694) -> (1.4154, 7.2395)
  line L36 (1.4154, 7.2395) -> (-1.2127, 5.8909)
  line L37 (-1.2127, 5.8909) -> (1.4154, 5.8909)
  line L38 (1.4154, 5.8909) -> (1.4154, 5.5129)
  line L39 (1.4154, 5.5129) -> (-1.6326, 5.5129)
  line L40 (-1.6326, 5.5129) -> (-1.6326, 6.0885)
  line L41 (-1.6326, 6.0885) -> (0.7807, 7.3161)
  line L42 (0.7807, 7.3161) -> (-1.6326, 7.3161)
  line L43 (-1.6326, 7.3161) -> (-1.6326, 7.694)
  line L44 (-1.6326, 7.694) -> (1.4154, 7.694)
  point P0 (0, 0)
extrude "Extrusión2" add sketch "Boceto2" along normal blind 5
properties part number "jetson"
